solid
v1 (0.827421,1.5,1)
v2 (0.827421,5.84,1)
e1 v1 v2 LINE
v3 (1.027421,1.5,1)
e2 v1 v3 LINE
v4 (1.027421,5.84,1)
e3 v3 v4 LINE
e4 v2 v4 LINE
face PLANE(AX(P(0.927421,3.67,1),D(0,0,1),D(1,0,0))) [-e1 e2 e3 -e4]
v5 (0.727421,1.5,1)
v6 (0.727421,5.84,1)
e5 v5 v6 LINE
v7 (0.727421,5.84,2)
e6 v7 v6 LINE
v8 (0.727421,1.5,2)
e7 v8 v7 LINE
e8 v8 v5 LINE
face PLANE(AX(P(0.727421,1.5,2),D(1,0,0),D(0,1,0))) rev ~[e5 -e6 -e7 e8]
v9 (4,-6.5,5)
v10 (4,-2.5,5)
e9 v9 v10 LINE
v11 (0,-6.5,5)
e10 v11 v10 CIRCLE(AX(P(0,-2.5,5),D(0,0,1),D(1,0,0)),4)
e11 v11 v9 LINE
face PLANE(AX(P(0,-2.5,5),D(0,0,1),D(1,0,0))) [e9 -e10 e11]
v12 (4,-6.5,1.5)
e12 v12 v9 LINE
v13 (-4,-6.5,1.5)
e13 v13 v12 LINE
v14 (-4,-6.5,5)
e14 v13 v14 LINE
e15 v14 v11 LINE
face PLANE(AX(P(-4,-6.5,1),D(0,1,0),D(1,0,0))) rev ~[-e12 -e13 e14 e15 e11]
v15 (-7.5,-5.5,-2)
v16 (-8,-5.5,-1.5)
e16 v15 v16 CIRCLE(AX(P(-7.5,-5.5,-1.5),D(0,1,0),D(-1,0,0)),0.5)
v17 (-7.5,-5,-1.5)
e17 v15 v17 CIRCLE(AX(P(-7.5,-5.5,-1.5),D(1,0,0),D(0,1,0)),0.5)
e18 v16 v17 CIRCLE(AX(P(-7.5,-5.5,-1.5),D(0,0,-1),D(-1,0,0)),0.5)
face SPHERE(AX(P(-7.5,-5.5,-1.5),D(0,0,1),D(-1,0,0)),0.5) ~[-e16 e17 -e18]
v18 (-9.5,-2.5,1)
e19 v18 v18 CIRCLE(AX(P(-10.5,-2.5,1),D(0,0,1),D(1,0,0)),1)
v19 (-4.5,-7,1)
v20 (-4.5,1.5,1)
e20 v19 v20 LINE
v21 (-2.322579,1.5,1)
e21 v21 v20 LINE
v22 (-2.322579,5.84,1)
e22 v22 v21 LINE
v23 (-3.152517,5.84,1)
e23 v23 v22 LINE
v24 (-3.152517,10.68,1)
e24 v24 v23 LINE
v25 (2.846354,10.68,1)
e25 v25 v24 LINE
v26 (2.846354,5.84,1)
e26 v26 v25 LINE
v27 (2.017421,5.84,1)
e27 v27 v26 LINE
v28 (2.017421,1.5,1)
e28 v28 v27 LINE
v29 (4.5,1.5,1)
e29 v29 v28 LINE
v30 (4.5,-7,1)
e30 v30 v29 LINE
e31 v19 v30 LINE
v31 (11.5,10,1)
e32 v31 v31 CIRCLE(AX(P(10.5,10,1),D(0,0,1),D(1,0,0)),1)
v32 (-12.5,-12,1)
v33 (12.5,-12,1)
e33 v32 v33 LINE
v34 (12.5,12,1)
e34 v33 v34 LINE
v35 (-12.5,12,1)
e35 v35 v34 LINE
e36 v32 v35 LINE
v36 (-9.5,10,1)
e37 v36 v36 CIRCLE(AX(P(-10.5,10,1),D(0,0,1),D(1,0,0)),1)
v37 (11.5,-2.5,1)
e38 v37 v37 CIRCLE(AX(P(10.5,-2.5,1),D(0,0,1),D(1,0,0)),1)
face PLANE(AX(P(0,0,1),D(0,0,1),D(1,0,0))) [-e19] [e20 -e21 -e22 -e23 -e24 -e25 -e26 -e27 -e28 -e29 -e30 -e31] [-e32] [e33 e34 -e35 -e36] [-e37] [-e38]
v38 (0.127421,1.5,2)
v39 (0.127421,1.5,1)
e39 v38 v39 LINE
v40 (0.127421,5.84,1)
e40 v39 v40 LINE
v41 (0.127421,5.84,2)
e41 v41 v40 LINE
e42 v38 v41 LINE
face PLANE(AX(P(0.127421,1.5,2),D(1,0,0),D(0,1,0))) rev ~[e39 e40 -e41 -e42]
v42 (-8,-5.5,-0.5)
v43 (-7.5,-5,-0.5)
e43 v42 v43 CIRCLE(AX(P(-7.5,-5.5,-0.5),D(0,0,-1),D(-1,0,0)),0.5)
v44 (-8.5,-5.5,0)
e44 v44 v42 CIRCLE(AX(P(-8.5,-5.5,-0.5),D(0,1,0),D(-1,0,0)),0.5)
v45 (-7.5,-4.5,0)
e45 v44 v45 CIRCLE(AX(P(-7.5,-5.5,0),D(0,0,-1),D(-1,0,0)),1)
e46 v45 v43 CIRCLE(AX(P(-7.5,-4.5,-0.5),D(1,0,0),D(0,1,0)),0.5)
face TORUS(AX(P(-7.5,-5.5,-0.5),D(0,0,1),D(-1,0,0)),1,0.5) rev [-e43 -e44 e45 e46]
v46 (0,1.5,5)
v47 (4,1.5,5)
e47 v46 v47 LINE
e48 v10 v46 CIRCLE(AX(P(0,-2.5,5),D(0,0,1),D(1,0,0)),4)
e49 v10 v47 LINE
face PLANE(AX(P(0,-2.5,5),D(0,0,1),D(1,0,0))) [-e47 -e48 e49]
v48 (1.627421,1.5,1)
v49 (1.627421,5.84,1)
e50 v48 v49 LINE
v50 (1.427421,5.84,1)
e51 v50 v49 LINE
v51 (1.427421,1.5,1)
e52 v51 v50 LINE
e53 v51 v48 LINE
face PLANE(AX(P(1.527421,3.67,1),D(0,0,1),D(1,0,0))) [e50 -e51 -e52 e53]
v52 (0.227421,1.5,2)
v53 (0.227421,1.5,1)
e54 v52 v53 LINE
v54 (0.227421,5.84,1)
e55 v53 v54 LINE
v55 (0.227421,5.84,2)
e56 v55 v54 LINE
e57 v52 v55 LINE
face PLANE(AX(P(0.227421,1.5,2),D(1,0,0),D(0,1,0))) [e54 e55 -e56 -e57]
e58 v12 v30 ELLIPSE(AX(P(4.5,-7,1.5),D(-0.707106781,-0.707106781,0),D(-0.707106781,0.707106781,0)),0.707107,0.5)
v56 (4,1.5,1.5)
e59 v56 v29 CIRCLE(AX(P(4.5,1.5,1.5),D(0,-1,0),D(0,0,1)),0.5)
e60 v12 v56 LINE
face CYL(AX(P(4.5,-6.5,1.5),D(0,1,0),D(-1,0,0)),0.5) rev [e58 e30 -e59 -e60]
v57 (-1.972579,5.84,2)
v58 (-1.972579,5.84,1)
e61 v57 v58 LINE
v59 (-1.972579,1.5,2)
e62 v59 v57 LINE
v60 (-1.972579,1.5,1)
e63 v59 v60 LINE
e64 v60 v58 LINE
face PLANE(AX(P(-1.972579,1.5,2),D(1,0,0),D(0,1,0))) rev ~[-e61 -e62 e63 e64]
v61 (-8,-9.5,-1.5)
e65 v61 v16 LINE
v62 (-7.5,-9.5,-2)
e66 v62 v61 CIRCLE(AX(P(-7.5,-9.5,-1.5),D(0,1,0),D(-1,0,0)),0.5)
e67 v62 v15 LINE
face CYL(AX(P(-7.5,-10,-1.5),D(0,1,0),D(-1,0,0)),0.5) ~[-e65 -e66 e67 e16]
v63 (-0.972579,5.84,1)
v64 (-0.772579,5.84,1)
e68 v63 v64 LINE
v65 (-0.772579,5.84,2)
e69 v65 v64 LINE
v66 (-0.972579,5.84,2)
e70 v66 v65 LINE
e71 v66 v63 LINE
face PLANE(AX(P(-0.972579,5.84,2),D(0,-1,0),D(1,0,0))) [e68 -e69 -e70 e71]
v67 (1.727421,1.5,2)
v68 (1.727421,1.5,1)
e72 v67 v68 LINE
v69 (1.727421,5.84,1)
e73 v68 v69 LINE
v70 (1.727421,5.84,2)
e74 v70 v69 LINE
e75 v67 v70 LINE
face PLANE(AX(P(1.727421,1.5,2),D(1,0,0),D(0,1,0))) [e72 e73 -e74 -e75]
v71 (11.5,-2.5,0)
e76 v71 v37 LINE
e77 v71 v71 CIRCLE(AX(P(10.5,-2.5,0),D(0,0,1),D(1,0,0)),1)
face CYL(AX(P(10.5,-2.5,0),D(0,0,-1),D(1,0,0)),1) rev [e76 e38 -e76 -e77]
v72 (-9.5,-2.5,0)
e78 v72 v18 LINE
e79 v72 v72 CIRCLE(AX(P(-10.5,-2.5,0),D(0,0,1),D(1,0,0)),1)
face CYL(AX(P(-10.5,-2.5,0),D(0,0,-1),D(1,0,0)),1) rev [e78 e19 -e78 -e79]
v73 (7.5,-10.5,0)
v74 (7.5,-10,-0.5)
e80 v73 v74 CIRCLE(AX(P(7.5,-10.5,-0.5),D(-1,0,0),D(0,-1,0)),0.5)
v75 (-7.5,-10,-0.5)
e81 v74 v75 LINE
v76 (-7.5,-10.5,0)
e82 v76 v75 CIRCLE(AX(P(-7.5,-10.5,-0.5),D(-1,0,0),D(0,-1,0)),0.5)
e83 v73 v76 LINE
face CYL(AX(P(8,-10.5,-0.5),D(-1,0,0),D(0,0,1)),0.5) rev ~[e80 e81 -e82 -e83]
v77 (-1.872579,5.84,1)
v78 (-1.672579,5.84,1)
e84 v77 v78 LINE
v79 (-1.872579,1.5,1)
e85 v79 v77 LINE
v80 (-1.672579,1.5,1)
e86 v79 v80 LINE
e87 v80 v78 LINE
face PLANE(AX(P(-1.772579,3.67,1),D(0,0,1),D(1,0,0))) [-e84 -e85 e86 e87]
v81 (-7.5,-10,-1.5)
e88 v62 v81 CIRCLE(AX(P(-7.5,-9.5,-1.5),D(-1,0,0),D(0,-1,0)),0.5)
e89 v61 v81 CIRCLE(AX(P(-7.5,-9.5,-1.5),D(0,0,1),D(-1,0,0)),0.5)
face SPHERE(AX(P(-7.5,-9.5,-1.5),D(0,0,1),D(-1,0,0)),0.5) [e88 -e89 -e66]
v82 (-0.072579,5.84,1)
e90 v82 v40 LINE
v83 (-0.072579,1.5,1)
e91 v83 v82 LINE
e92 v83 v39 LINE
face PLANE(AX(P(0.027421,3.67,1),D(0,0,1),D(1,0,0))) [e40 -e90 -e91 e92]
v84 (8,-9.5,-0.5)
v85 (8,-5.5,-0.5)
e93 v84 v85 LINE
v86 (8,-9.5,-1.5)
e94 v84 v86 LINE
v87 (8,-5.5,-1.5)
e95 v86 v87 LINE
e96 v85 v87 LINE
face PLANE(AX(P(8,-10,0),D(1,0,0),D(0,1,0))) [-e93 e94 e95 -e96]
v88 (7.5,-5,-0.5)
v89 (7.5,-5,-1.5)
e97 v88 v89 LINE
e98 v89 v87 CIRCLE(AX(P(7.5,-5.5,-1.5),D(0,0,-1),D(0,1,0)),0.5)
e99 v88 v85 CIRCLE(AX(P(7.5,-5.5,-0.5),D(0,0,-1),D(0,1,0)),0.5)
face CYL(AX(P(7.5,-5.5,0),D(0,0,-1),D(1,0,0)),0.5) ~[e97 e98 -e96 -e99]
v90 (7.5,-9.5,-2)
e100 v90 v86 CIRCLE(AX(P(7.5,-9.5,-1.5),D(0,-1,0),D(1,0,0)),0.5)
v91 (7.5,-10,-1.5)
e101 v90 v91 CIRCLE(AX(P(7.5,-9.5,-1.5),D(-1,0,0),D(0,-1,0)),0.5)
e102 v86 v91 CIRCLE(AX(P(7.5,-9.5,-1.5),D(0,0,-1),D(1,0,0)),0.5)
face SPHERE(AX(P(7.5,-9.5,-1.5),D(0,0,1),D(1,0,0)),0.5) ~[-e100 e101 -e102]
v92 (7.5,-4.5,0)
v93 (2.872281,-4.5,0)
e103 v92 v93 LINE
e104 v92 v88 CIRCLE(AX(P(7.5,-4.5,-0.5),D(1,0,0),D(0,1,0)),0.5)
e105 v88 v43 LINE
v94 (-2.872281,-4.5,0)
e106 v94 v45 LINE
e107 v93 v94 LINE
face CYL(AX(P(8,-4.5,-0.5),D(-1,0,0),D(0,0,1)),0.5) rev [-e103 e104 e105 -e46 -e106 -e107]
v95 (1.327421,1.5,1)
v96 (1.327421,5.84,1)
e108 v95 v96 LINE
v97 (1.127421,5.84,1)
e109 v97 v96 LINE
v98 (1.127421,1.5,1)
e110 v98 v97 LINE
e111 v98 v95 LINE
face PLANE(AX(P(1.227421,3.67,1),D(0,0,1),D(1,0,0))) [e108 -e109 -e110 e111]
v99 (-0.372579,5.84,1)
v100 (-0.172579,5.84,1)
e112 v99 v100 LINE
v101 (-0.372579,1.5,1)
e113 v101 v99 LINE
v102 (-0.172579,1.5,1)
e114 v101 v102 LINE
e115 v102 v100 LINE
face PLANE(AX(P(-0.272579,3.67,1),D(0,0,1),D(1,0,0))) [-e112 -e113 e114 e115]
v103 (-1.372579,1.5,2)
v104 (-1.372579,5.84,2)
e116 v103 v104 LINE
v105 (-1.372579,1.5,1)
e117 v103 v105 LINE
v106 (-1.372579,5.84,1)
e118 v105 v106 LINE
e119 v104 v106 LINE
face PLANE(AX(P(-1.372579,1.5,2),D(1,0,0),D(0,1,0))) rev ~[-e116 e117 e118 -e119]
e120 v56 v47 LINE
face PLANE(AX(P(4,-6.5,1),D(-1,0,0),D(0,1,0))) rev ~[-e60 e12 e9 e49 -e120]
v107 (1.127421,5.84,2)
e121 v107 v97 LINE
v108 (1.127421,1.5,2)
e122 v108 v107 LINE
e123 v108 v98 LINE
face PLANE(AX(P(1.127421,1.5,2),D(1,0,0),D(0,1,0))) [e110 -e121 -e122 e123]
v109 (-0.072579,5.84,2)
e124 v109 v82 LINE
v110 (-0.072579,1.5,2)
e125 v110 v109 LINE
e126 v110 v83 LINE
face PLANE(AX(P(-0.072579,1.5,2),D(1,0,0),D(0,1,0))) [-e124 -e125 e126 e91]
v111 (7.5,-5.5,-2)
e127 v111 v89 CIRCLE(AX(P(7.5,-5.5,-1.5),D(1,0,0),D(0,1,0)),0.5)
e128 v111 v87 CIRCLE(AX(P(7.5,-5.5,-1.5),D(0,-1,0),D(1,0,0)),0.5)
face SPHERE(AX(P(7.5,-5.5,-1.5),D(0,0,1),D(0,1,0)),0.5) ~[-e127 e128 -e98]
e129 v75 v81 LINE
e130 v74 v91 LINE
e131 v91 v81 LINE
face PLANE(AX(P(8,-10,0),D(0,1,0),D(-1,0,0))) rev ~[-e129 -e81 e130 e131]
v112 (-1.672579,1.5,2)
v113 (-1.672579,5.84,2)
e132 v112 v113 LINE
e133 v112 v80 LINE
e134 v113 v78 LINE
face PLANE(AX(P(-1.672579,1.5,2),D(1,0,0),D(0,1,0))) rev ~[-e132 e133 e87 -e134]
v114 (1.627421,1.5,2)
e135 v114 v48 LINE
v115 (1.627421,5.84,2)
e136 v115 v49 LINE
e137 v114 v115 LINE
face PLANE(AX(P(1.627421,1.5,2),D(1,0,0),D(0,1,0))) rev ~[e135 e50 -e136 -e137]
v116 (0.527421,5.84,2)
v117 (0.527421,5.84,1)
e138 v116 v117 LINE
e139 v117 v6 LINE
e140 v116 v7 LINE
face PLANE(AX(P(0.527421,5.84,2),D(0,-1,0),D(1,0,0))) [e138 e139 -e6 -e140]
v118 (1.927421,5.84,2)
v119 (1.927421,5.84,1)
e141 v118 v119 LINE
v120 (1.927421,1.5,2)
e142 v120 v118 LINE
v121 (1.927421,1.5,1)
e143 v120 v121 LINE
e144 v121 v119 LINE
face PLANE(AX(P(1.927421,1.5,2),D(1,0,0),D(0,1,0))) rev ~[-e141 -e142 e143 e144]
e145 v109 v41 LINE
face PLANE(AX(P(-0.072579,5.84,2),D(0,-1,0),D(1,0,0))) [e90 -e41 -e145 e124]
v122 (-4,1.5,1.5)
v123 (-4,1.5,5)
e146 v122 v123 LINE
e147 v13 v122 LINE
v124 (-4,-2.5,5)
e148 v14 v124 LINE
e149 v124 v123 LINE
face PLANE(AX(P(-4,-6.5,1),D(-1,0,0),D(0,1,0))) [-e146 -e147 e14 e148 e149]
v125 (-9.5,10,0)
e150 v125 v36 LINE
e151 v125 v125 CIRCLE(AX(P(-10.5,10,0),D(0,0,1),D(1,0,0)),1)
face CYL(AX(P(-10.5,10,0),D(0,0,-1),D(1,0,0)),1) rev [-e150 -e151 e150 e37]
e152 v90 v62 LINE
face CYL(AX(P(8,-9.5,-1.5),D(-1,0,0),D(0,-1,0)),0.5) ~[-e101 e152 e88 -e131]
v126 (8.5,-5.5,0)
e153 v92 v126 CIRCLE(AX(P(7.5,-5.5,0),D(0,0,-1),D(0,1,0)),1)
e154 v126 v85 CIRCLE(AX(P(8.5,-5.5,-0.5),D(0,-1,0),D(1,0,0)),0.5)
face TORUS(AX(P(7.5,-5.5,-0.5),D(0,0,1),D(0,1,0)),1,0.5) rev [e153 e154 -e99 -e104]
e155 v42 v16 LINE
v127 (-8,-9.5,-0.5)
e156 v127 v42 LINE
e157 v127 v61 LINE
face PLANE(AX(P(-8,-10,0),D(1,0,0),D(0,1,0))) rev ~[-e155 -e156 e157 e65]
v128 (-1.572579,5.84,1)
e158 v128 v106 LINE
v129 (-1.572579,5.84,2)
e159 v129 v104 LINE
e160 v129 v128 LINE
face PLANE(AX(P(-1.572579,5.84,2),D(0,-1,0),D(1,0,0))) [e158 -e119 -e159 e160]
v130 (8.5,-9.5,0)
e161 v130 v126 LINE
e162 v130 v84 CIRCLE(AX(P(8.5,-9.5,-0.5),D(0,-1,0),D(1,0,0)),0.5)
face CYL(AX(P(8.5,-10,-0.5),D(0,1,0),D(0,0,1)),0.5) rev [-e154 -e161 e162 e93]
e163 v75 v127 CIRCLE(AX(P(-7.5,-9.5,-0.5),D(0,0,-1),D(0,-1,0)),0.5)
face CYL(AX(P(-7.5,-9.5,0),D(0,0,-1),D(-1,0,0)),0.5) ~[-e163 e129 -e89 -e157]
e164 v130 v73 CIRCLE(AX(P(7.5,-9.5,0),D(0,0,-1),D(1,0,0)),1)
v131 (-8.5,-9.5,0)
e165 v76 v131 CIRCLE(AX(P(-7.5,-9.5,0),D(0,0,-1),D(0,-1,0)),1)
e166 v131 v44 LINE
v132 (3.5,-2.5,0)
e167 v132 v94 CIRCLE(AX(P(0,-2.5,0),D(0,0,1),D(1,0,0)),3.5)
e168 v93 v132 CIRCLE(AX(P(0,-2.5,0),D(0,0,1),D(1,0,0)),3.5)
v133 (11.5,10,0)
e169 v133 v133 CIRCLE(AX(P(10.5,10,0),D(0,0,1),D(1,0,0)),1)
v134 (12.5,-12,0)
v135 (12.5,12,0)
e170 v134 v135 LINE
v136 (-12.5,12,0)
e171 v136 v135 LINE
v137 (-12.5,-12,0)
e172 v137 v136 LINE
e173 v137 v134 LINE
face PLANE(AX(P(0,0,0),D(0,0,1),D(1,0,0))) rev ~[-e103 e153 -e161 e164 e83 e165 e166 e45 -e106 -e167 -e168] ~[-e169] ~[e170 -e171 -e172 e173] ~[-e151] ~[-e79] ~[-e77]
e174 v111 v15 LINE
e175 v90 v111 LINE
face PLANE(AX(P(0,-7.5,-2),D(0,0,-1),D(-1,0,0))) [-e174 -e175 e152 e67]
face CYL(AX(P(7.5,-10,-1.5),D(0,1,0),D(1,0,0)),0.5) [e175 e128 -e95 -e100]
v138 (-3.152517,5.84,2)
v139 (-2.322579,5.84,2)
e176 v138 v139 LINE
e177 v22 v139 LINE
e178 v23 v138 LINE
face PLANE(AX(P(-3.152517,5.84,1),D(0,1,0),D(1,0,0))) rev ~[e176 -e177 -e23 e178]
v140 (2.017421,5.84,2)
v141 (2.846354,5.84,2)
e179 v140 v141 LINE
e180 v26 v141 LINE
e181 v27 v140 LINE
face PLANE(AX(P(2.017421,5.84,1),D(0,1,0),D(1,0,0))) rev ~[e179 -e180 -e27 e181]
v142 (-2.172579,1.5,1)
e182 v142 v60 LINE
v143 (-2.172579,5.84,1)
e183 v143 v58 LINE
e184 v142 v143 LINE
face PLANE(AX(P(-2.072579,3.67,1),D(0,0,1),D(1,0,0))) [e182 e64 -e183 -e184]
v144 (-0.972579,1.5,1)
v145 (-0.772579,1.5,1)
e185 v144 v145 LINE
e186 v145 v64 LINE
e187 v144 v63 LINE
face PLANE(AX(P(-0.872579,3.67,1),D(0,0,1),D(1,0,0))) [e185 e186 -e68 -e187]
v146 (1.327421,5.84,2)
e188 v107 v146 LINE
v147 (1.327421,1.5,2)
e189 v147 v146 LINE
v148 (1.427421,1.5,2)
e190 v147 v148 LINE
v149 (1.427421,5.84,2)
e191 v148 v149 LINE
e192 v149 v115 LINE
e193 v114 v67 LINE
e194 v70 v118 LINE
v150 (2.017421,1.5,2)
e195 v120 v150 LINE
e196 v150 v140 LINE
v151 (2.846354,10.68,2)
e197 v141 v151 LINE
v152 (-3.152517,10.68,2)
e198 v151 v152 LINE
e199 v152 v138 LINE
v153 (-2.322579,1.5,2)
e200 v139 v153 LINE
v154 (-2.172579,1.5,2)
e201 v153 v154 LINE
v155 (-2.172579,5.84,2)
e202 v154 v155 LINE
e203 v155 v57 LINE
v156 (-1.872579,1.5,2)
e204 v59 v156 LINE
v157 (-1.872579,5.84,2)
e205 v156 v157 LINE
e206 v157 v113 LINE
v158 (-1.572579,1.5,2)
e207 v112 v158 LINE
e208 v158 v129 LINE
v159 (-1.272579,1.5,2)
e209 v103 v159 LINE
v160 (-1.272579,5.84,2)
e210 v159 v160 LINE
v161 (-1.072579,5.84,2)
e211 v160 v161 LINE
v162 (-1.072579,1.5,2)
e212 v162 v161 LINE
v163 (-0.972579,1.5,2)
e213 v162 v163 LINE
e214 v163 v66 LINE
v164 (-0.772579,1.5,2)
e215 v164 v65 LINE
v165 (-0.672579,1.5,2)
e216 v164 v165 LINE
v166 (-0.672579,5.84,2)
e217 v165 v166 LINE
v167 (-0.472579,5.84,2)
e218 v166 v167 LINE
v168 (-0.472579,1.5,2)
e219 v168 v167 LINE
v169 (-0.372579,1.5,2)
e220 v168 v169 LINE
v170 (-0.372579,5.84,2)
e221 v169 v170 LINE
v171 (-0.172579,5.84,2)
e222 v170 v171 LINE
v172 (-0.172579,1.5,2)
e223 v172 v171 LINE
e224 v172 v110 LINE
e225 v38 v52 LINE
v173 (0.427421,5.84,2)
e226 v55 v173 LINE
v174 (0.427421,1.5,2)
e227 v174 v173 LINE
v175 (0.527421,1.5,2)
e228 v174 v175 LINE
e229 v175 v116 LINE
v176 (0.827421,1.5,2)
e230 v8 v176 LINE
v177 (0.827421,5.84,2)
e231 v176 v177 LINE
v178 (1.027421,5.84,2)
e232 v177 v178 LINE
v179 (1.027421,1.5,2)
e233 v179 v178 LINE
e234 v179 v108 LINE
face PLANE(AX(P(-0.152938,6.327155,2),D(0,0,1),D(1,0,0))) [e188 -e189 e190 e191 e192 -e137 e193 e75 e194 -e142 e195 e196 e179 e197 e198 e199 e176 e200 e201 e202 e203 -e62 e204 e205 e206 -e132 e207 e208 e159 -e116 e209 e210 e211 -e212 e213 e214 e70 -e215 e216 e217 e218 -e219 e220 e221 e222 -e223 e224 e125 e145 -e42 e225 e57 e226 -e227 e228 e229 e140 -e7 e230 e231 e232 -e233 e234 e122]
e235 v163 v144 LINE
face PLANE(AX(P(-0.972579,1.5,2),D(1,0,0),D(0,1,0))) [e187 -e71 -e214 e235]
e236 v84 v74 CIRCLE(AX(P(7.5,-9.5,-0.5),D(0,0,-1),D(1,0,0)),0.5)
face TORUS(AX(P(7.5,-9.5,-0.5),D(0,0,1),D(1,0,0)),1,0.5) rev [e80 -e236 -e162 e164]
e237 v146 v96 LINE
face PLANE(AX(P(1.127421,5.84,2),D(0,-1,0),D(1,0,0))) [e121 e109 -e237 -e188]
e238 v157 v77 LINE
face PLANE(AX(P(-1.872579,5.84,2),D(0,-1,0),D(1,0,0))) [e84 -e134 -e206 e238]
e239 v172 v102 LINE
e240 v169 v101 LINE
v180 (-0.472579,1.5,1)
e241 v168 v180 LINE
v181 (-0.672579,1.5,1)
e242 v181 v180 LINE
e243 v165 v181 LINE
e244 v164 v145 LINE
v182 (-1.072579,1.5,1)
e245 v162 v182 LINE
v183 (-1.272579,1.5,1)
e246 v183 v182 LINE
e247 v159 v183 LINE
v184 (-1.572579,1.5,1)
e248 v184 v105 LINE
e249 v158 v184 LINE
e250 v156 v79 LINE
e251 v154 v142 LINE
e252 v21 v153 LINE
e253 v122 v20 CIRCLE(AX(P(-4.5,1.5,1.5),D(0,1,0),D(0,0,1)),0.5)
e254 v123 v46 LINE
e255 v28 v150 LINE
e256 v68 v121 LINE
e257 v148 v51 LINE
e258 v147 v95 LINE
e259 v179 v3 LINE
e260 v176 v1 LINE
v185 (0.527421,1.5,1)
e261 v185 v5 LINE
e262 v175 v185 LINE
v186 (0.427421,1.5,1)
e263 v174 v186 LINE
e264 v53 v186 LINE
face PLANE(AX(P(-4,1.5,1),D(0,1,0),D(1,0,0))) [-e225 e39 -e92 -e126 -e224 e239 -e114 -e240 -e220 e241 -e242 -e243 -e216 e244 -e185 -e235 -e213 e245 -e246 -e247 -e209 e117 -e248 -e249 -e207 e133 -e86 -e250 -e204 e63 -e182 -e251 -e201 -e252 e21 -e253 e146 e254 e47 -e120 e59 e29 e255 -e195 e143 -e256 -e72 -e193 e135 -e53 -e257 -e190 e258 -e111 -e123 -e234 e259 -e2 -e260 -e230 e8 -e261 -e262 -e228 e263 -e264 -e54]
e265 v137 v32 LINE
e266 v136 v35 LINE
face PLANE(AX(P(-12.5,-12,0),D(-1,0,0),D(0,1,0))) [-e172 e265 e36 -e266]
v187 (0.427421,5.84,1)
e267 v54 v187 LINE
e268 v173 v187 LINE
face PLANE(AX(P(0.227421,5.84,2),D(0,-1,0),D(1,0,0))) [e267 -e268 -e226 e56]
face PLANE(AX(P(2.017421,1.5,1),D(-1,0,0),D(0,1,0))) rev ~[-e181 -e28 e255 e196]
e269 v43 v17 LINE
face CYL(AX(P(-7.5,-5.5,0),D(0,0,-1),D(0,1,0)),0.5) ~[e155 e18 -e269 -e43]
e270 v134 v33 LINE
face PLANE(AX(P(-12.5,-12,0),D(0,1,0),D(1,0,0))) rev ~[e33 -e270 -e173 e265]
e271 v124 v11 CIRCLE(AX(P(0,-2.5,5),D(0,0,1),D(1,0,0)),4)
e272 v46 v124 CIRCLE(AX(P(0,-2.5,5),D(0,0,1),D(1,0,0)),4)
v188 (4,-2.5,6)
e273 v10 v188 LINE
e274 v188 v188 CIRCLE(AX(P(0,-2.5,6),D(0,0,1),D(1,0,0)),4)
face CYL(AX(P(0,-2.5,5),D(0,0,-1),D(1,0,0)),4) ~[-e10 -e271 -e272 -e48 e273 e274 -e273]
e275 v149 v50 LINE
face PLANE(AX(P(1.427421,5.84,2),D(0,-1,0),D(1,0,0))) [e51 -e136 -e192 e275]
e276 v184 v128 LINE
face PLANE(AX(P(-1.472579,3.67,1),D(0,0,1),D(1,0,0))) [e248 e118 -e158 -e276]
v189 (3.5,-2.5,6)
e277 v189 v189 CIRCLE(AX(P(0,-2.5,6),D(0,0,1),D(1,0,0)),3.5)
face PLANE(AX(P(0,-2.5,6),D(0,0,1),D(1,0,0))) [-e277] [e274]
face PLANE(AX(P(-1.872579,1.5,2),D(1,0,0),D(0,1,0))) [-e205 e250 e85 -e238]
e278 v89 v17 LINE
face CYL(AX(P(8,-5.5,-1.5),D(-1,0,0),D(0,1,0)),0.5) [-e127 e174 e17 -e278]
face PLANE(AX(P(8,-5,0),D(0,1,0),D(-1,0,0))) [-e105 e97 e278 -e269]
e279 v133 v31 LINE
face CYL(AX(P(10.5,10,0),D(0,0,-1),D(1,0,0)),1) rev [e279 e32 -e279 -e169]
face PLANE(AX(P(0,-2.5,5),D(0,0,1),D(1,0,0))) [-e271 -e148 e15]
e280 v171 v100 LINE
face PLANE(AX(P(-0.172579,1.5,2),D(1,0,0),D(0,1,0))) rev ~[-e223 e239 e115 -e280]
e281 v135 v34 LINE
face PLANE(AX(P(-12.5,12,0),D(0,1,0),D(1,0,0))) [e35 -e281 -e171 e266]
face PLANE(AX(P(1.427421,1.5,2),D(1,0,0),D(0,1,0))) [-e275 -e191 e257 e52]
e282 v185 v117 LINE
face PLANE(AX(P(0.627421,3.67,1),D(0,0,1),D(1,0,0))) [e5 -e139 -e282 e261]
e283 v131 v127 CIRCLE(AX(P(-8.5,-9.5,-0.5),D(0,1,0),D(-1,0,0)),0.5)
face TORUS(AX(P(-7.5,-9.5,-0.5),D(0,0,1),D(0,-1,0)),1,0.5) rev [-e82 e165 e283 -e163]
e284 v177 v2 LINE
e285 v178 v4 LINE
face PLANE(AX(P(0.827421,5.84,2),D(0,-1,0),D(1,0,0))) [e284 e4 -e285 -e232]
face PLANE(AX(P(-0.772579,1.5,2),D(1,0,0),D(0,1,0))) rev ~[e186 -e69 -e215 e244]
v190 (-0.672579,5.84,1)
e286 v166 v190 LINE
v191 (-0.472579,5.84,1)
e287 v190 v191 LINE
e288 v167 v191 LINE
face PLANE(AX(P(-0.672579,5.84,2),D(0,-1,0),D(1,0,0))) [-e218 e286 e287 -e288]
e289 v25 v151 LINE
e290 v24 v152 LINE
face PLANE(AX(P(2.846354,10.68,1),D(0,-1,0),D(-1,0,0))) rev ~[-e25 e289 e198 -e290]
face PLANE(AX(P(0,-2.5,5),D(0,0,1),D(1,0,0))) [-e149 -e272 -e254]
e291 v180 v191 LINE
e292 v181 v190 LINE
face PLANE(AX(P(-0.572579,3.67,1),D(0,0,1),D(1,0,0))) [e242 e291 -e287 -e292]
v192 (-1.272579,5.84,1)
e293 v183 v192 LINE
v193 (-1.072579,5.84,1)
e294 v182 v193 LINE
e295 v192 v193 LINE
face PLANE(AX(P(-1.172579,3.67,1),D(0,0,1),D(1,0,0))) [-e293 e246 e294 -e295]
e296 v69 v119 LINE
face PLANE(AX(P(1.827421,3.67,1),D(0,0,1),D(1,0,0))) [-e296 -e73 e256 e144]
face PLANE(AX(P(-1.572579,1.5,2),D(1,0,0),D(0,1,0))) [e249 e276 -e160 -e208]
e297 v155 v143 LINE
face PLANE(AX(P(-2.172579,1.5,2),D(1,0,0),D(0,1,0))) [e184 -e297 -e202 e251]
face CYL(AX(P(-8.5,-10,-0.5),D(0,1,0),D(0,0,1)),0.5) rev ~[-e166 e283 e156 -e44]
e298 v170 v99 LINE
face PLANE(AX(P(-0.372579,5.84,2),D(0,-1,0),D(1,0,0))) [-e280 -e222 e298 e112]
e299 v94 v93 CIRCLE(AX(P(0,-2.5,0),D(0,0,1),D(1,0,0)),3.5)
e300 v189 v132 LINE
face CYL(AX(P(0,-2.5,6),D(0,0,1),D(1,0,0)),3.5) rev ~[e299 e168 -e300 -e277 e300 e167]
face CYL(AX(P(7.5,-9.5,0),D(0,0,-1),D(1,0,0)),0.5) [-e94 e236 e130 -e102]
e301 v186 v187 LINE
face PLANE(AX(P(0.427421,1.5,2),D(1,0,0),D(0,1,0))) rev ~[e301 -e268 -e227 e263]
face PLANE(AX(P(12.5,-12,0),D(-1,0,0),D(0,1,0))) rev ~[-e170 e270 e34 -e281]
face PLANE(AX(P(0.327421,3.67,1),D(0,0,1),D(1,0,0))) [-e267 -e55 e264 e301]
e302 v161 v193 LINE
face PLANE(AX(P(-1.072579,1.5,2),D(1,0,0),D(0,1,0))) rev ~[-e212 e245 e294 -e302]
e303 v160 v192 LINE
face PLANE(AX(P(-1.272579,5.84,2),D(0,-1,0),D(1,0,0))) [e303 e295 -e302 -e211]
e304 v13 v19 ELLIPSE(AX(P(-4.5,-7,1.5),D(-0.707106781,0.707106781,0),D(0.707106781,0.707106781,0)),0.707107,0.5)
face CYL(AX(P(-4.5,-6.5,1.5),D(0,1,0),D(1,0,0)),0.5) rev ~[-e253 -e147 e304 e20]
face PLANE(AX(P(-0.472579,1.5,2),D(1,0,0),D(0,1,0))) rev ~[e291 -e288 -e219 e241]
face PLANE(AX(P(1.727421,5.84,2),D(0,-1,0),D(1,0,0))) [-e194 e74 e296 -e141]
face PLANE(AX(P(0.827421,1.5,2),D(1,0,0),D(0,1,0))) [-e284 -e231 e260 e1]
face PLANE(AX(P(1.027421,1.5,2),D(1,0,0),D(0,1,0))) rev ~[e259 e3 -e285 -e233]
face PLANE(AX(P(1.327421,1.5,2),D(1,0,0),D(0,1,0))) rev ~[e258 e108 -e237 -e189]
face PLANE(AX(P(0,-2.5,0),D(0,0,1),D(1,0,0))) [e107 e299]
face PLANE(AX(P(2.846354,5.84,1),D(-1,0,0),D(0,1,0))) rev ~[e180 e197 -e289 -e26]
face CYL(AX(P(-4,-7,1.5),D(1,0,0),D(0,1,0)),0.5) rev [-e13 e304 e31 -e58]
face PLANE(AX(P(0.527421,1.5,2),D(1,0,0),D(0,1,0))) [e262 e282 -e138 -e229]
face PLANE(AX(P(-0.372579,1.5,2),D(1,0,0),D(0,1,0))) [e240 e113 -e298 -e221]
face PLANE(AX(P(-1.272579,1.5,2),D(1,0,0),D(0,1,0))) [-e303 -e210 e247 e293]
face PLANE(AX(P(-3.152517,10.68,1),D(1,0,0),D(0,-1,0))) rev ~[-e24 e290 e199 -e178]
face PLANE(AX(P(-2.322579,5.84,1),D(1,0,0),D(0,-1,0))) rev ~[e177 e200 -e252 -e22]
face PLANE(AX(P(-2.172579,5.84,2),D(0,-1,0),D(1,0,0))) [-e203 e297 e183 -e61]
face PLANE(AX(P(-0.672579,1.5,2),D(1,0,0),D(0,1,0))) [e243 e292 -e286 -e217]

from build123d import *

# Parameters (mm, degrees)
SKETCH1_W           = 25
SKETCH1_H           = 24
SKETCH1_R           = 1
BOSS_EXTRUDE1_DEPTH = 1
SKETCH2_W           = 8
SKETCH2_H           = 8
BOSS_EXTRUDE2_DEPTH = 4
SKETCH3_R           = 4
BOSS_EXTRUDE3_DEPTH = 1
FILLET2_R           = 0.5
SKETCH4_W           = 16
SKETCH4_H           = 5
BOSS_EXTRUDE4_DEPTH = 2
FILLET3_R           = 0.5
SKETCH5_R           = 3.5
CUT_EXTRUDE1_DEPTH  = 6
BOSS_EXTRUDE5_DEPTH = 1
SKETCH7_W           = 0.2
SKETCH7_H           = 4.34
CUT_EXTRUDE2_DEPTH  = 1
LPATTERN1_COUNT     = 14
LPATTERN1_PITCH     = 0.3


with BuildPart() as part:
    # Sketch1 → Boss-Extrude1 (new body)
    with BuildSketch(Plane.XY):
        Rectangle(SKETCH1_W, SKETCH1_H)
        with Locations((10.5, 10)):
            Circle(SKETCH1_R, mode=Mode.SUBTRACT)
        with Locations((-10.5, 10)):
            Circle(SKETCH1_R, mode=Mode.SUBTRACT)
        with Locations((-10.5, -2.5)):
            Circle(SKETCH1_R, mode=Mode.SUBTRACT)
        with Locations((10.5, -2.5)):
            Circle(SKETCH1_R, mode=Mode.SUBTRACT)
    extrude(amount=BOSS_EXTRUDE1_DEPTH)

    # Sketch2 → Boss-Extrude2 (add)
    with BuildSketch(Plane.XY.offset(1)):
        with Locations((0, -2.5)):
            Rectangle(SKETCH2_W, SKETCH2_H)
    extrude(amount=BOSS_EXTRUDE2_DEPTH)

    # Sketch3 → Boss-Extrude3 (add)
    with BuildSketch(Plane.XY.offset(5)):
        with Locations((0, -2.5)):
            Circle(SKETCH3_R)
    extrude(amount=BOSS_EXTRUDE3_DEPTH)

    # Fillet2
    fillet2_edges = [part.edges().sort_by_distance(p)[0] for p in [
        (4, -2.5, 1),
        (-4, -2.5, 1),
        (0, -6.5, 1),
    ]]
    fillet(fillet2_edges, radius=FILLET2_R)

    # Sketch4 → Boss-Extrude4 (add)
    with BuildSketch(Plane(origin=(0, 0, 0), x_dir=(-1, 0, 0), z_dir=(0, 0, -1))):
        with Locations((0, -7.5)):
            Rectangle(SKETCH4_W, SKETCH4_H)
    extrude(amount=BOSS_EXTRUDE4_DEPTH)

    # Fillet3
    fillet3_edges = [part.edges().sort_by_distance(p)[0] for p in [
        (-8, -7.5, 0),
        (-8, -10, -1),
        (0, -5, 0),
        (-8, -5, -1),
        (8, -7.5, 0),
        (8, -5, -1),
        (0, -10, 0),
        (8, -10, -1),
        (-8, -7.5, -2),
        (0, -5, -2),
        (8, -7.5, -2),
        (0, -10, -2),
    ]]
    fillet(fillet3_edges, radius=FILLET3_R)

    # Sketch5 → Cut-Extrude1 (cut)
    with BuildSketch(Plane.XY.offset(6)):
        with Locations((0, -2.5)):
            Circle(SKETCH5_R)
    extrude(amount=-CUT_EXTRUDE1_DEPTH, mode=Mode.SUBTRACT)

    # Sketch6 → Boss-Extrude5 (add)
    with BuildSketch(Plane.XY.offset(1)):
        Polygon((-3.152517362, 10.68), (-3.152517362, 5.84), (-2.322578899, 5.84), (-2.322578899, 1.5), (2.017421101, 1.5), (2.017421101, 5.84), (2.846354447, 5.84), (2.846354447, 6.468877905), (2.846354447, 10.68), align=None)
    extrude(amount=BOSS_EXTRUDE5_DEPTH)

    # Sketch7 → Cut-Extrude2 (cut)
    with BuildSketch(Plane.XY.offset(2)):
        with Locations((-2.072578899, 3.67)):
            Rectangle(SKETCH7_W, SKETCH7_H)
    cut_extrude2 = extrude(amount=-CUT_EXTRUDE2_DEPTH, mode=Mode.SUBTRACT)

    # LPattern1: Cut-Extrude2 ×14
    with Locations(*[(i * LPATTERN1_PITCH, 0, 0) for i in range(1, LPATTERN1_COUNT)]):
        add(cut_extrude2, mode=Mode.SUBTRACT)


solid = part.part
